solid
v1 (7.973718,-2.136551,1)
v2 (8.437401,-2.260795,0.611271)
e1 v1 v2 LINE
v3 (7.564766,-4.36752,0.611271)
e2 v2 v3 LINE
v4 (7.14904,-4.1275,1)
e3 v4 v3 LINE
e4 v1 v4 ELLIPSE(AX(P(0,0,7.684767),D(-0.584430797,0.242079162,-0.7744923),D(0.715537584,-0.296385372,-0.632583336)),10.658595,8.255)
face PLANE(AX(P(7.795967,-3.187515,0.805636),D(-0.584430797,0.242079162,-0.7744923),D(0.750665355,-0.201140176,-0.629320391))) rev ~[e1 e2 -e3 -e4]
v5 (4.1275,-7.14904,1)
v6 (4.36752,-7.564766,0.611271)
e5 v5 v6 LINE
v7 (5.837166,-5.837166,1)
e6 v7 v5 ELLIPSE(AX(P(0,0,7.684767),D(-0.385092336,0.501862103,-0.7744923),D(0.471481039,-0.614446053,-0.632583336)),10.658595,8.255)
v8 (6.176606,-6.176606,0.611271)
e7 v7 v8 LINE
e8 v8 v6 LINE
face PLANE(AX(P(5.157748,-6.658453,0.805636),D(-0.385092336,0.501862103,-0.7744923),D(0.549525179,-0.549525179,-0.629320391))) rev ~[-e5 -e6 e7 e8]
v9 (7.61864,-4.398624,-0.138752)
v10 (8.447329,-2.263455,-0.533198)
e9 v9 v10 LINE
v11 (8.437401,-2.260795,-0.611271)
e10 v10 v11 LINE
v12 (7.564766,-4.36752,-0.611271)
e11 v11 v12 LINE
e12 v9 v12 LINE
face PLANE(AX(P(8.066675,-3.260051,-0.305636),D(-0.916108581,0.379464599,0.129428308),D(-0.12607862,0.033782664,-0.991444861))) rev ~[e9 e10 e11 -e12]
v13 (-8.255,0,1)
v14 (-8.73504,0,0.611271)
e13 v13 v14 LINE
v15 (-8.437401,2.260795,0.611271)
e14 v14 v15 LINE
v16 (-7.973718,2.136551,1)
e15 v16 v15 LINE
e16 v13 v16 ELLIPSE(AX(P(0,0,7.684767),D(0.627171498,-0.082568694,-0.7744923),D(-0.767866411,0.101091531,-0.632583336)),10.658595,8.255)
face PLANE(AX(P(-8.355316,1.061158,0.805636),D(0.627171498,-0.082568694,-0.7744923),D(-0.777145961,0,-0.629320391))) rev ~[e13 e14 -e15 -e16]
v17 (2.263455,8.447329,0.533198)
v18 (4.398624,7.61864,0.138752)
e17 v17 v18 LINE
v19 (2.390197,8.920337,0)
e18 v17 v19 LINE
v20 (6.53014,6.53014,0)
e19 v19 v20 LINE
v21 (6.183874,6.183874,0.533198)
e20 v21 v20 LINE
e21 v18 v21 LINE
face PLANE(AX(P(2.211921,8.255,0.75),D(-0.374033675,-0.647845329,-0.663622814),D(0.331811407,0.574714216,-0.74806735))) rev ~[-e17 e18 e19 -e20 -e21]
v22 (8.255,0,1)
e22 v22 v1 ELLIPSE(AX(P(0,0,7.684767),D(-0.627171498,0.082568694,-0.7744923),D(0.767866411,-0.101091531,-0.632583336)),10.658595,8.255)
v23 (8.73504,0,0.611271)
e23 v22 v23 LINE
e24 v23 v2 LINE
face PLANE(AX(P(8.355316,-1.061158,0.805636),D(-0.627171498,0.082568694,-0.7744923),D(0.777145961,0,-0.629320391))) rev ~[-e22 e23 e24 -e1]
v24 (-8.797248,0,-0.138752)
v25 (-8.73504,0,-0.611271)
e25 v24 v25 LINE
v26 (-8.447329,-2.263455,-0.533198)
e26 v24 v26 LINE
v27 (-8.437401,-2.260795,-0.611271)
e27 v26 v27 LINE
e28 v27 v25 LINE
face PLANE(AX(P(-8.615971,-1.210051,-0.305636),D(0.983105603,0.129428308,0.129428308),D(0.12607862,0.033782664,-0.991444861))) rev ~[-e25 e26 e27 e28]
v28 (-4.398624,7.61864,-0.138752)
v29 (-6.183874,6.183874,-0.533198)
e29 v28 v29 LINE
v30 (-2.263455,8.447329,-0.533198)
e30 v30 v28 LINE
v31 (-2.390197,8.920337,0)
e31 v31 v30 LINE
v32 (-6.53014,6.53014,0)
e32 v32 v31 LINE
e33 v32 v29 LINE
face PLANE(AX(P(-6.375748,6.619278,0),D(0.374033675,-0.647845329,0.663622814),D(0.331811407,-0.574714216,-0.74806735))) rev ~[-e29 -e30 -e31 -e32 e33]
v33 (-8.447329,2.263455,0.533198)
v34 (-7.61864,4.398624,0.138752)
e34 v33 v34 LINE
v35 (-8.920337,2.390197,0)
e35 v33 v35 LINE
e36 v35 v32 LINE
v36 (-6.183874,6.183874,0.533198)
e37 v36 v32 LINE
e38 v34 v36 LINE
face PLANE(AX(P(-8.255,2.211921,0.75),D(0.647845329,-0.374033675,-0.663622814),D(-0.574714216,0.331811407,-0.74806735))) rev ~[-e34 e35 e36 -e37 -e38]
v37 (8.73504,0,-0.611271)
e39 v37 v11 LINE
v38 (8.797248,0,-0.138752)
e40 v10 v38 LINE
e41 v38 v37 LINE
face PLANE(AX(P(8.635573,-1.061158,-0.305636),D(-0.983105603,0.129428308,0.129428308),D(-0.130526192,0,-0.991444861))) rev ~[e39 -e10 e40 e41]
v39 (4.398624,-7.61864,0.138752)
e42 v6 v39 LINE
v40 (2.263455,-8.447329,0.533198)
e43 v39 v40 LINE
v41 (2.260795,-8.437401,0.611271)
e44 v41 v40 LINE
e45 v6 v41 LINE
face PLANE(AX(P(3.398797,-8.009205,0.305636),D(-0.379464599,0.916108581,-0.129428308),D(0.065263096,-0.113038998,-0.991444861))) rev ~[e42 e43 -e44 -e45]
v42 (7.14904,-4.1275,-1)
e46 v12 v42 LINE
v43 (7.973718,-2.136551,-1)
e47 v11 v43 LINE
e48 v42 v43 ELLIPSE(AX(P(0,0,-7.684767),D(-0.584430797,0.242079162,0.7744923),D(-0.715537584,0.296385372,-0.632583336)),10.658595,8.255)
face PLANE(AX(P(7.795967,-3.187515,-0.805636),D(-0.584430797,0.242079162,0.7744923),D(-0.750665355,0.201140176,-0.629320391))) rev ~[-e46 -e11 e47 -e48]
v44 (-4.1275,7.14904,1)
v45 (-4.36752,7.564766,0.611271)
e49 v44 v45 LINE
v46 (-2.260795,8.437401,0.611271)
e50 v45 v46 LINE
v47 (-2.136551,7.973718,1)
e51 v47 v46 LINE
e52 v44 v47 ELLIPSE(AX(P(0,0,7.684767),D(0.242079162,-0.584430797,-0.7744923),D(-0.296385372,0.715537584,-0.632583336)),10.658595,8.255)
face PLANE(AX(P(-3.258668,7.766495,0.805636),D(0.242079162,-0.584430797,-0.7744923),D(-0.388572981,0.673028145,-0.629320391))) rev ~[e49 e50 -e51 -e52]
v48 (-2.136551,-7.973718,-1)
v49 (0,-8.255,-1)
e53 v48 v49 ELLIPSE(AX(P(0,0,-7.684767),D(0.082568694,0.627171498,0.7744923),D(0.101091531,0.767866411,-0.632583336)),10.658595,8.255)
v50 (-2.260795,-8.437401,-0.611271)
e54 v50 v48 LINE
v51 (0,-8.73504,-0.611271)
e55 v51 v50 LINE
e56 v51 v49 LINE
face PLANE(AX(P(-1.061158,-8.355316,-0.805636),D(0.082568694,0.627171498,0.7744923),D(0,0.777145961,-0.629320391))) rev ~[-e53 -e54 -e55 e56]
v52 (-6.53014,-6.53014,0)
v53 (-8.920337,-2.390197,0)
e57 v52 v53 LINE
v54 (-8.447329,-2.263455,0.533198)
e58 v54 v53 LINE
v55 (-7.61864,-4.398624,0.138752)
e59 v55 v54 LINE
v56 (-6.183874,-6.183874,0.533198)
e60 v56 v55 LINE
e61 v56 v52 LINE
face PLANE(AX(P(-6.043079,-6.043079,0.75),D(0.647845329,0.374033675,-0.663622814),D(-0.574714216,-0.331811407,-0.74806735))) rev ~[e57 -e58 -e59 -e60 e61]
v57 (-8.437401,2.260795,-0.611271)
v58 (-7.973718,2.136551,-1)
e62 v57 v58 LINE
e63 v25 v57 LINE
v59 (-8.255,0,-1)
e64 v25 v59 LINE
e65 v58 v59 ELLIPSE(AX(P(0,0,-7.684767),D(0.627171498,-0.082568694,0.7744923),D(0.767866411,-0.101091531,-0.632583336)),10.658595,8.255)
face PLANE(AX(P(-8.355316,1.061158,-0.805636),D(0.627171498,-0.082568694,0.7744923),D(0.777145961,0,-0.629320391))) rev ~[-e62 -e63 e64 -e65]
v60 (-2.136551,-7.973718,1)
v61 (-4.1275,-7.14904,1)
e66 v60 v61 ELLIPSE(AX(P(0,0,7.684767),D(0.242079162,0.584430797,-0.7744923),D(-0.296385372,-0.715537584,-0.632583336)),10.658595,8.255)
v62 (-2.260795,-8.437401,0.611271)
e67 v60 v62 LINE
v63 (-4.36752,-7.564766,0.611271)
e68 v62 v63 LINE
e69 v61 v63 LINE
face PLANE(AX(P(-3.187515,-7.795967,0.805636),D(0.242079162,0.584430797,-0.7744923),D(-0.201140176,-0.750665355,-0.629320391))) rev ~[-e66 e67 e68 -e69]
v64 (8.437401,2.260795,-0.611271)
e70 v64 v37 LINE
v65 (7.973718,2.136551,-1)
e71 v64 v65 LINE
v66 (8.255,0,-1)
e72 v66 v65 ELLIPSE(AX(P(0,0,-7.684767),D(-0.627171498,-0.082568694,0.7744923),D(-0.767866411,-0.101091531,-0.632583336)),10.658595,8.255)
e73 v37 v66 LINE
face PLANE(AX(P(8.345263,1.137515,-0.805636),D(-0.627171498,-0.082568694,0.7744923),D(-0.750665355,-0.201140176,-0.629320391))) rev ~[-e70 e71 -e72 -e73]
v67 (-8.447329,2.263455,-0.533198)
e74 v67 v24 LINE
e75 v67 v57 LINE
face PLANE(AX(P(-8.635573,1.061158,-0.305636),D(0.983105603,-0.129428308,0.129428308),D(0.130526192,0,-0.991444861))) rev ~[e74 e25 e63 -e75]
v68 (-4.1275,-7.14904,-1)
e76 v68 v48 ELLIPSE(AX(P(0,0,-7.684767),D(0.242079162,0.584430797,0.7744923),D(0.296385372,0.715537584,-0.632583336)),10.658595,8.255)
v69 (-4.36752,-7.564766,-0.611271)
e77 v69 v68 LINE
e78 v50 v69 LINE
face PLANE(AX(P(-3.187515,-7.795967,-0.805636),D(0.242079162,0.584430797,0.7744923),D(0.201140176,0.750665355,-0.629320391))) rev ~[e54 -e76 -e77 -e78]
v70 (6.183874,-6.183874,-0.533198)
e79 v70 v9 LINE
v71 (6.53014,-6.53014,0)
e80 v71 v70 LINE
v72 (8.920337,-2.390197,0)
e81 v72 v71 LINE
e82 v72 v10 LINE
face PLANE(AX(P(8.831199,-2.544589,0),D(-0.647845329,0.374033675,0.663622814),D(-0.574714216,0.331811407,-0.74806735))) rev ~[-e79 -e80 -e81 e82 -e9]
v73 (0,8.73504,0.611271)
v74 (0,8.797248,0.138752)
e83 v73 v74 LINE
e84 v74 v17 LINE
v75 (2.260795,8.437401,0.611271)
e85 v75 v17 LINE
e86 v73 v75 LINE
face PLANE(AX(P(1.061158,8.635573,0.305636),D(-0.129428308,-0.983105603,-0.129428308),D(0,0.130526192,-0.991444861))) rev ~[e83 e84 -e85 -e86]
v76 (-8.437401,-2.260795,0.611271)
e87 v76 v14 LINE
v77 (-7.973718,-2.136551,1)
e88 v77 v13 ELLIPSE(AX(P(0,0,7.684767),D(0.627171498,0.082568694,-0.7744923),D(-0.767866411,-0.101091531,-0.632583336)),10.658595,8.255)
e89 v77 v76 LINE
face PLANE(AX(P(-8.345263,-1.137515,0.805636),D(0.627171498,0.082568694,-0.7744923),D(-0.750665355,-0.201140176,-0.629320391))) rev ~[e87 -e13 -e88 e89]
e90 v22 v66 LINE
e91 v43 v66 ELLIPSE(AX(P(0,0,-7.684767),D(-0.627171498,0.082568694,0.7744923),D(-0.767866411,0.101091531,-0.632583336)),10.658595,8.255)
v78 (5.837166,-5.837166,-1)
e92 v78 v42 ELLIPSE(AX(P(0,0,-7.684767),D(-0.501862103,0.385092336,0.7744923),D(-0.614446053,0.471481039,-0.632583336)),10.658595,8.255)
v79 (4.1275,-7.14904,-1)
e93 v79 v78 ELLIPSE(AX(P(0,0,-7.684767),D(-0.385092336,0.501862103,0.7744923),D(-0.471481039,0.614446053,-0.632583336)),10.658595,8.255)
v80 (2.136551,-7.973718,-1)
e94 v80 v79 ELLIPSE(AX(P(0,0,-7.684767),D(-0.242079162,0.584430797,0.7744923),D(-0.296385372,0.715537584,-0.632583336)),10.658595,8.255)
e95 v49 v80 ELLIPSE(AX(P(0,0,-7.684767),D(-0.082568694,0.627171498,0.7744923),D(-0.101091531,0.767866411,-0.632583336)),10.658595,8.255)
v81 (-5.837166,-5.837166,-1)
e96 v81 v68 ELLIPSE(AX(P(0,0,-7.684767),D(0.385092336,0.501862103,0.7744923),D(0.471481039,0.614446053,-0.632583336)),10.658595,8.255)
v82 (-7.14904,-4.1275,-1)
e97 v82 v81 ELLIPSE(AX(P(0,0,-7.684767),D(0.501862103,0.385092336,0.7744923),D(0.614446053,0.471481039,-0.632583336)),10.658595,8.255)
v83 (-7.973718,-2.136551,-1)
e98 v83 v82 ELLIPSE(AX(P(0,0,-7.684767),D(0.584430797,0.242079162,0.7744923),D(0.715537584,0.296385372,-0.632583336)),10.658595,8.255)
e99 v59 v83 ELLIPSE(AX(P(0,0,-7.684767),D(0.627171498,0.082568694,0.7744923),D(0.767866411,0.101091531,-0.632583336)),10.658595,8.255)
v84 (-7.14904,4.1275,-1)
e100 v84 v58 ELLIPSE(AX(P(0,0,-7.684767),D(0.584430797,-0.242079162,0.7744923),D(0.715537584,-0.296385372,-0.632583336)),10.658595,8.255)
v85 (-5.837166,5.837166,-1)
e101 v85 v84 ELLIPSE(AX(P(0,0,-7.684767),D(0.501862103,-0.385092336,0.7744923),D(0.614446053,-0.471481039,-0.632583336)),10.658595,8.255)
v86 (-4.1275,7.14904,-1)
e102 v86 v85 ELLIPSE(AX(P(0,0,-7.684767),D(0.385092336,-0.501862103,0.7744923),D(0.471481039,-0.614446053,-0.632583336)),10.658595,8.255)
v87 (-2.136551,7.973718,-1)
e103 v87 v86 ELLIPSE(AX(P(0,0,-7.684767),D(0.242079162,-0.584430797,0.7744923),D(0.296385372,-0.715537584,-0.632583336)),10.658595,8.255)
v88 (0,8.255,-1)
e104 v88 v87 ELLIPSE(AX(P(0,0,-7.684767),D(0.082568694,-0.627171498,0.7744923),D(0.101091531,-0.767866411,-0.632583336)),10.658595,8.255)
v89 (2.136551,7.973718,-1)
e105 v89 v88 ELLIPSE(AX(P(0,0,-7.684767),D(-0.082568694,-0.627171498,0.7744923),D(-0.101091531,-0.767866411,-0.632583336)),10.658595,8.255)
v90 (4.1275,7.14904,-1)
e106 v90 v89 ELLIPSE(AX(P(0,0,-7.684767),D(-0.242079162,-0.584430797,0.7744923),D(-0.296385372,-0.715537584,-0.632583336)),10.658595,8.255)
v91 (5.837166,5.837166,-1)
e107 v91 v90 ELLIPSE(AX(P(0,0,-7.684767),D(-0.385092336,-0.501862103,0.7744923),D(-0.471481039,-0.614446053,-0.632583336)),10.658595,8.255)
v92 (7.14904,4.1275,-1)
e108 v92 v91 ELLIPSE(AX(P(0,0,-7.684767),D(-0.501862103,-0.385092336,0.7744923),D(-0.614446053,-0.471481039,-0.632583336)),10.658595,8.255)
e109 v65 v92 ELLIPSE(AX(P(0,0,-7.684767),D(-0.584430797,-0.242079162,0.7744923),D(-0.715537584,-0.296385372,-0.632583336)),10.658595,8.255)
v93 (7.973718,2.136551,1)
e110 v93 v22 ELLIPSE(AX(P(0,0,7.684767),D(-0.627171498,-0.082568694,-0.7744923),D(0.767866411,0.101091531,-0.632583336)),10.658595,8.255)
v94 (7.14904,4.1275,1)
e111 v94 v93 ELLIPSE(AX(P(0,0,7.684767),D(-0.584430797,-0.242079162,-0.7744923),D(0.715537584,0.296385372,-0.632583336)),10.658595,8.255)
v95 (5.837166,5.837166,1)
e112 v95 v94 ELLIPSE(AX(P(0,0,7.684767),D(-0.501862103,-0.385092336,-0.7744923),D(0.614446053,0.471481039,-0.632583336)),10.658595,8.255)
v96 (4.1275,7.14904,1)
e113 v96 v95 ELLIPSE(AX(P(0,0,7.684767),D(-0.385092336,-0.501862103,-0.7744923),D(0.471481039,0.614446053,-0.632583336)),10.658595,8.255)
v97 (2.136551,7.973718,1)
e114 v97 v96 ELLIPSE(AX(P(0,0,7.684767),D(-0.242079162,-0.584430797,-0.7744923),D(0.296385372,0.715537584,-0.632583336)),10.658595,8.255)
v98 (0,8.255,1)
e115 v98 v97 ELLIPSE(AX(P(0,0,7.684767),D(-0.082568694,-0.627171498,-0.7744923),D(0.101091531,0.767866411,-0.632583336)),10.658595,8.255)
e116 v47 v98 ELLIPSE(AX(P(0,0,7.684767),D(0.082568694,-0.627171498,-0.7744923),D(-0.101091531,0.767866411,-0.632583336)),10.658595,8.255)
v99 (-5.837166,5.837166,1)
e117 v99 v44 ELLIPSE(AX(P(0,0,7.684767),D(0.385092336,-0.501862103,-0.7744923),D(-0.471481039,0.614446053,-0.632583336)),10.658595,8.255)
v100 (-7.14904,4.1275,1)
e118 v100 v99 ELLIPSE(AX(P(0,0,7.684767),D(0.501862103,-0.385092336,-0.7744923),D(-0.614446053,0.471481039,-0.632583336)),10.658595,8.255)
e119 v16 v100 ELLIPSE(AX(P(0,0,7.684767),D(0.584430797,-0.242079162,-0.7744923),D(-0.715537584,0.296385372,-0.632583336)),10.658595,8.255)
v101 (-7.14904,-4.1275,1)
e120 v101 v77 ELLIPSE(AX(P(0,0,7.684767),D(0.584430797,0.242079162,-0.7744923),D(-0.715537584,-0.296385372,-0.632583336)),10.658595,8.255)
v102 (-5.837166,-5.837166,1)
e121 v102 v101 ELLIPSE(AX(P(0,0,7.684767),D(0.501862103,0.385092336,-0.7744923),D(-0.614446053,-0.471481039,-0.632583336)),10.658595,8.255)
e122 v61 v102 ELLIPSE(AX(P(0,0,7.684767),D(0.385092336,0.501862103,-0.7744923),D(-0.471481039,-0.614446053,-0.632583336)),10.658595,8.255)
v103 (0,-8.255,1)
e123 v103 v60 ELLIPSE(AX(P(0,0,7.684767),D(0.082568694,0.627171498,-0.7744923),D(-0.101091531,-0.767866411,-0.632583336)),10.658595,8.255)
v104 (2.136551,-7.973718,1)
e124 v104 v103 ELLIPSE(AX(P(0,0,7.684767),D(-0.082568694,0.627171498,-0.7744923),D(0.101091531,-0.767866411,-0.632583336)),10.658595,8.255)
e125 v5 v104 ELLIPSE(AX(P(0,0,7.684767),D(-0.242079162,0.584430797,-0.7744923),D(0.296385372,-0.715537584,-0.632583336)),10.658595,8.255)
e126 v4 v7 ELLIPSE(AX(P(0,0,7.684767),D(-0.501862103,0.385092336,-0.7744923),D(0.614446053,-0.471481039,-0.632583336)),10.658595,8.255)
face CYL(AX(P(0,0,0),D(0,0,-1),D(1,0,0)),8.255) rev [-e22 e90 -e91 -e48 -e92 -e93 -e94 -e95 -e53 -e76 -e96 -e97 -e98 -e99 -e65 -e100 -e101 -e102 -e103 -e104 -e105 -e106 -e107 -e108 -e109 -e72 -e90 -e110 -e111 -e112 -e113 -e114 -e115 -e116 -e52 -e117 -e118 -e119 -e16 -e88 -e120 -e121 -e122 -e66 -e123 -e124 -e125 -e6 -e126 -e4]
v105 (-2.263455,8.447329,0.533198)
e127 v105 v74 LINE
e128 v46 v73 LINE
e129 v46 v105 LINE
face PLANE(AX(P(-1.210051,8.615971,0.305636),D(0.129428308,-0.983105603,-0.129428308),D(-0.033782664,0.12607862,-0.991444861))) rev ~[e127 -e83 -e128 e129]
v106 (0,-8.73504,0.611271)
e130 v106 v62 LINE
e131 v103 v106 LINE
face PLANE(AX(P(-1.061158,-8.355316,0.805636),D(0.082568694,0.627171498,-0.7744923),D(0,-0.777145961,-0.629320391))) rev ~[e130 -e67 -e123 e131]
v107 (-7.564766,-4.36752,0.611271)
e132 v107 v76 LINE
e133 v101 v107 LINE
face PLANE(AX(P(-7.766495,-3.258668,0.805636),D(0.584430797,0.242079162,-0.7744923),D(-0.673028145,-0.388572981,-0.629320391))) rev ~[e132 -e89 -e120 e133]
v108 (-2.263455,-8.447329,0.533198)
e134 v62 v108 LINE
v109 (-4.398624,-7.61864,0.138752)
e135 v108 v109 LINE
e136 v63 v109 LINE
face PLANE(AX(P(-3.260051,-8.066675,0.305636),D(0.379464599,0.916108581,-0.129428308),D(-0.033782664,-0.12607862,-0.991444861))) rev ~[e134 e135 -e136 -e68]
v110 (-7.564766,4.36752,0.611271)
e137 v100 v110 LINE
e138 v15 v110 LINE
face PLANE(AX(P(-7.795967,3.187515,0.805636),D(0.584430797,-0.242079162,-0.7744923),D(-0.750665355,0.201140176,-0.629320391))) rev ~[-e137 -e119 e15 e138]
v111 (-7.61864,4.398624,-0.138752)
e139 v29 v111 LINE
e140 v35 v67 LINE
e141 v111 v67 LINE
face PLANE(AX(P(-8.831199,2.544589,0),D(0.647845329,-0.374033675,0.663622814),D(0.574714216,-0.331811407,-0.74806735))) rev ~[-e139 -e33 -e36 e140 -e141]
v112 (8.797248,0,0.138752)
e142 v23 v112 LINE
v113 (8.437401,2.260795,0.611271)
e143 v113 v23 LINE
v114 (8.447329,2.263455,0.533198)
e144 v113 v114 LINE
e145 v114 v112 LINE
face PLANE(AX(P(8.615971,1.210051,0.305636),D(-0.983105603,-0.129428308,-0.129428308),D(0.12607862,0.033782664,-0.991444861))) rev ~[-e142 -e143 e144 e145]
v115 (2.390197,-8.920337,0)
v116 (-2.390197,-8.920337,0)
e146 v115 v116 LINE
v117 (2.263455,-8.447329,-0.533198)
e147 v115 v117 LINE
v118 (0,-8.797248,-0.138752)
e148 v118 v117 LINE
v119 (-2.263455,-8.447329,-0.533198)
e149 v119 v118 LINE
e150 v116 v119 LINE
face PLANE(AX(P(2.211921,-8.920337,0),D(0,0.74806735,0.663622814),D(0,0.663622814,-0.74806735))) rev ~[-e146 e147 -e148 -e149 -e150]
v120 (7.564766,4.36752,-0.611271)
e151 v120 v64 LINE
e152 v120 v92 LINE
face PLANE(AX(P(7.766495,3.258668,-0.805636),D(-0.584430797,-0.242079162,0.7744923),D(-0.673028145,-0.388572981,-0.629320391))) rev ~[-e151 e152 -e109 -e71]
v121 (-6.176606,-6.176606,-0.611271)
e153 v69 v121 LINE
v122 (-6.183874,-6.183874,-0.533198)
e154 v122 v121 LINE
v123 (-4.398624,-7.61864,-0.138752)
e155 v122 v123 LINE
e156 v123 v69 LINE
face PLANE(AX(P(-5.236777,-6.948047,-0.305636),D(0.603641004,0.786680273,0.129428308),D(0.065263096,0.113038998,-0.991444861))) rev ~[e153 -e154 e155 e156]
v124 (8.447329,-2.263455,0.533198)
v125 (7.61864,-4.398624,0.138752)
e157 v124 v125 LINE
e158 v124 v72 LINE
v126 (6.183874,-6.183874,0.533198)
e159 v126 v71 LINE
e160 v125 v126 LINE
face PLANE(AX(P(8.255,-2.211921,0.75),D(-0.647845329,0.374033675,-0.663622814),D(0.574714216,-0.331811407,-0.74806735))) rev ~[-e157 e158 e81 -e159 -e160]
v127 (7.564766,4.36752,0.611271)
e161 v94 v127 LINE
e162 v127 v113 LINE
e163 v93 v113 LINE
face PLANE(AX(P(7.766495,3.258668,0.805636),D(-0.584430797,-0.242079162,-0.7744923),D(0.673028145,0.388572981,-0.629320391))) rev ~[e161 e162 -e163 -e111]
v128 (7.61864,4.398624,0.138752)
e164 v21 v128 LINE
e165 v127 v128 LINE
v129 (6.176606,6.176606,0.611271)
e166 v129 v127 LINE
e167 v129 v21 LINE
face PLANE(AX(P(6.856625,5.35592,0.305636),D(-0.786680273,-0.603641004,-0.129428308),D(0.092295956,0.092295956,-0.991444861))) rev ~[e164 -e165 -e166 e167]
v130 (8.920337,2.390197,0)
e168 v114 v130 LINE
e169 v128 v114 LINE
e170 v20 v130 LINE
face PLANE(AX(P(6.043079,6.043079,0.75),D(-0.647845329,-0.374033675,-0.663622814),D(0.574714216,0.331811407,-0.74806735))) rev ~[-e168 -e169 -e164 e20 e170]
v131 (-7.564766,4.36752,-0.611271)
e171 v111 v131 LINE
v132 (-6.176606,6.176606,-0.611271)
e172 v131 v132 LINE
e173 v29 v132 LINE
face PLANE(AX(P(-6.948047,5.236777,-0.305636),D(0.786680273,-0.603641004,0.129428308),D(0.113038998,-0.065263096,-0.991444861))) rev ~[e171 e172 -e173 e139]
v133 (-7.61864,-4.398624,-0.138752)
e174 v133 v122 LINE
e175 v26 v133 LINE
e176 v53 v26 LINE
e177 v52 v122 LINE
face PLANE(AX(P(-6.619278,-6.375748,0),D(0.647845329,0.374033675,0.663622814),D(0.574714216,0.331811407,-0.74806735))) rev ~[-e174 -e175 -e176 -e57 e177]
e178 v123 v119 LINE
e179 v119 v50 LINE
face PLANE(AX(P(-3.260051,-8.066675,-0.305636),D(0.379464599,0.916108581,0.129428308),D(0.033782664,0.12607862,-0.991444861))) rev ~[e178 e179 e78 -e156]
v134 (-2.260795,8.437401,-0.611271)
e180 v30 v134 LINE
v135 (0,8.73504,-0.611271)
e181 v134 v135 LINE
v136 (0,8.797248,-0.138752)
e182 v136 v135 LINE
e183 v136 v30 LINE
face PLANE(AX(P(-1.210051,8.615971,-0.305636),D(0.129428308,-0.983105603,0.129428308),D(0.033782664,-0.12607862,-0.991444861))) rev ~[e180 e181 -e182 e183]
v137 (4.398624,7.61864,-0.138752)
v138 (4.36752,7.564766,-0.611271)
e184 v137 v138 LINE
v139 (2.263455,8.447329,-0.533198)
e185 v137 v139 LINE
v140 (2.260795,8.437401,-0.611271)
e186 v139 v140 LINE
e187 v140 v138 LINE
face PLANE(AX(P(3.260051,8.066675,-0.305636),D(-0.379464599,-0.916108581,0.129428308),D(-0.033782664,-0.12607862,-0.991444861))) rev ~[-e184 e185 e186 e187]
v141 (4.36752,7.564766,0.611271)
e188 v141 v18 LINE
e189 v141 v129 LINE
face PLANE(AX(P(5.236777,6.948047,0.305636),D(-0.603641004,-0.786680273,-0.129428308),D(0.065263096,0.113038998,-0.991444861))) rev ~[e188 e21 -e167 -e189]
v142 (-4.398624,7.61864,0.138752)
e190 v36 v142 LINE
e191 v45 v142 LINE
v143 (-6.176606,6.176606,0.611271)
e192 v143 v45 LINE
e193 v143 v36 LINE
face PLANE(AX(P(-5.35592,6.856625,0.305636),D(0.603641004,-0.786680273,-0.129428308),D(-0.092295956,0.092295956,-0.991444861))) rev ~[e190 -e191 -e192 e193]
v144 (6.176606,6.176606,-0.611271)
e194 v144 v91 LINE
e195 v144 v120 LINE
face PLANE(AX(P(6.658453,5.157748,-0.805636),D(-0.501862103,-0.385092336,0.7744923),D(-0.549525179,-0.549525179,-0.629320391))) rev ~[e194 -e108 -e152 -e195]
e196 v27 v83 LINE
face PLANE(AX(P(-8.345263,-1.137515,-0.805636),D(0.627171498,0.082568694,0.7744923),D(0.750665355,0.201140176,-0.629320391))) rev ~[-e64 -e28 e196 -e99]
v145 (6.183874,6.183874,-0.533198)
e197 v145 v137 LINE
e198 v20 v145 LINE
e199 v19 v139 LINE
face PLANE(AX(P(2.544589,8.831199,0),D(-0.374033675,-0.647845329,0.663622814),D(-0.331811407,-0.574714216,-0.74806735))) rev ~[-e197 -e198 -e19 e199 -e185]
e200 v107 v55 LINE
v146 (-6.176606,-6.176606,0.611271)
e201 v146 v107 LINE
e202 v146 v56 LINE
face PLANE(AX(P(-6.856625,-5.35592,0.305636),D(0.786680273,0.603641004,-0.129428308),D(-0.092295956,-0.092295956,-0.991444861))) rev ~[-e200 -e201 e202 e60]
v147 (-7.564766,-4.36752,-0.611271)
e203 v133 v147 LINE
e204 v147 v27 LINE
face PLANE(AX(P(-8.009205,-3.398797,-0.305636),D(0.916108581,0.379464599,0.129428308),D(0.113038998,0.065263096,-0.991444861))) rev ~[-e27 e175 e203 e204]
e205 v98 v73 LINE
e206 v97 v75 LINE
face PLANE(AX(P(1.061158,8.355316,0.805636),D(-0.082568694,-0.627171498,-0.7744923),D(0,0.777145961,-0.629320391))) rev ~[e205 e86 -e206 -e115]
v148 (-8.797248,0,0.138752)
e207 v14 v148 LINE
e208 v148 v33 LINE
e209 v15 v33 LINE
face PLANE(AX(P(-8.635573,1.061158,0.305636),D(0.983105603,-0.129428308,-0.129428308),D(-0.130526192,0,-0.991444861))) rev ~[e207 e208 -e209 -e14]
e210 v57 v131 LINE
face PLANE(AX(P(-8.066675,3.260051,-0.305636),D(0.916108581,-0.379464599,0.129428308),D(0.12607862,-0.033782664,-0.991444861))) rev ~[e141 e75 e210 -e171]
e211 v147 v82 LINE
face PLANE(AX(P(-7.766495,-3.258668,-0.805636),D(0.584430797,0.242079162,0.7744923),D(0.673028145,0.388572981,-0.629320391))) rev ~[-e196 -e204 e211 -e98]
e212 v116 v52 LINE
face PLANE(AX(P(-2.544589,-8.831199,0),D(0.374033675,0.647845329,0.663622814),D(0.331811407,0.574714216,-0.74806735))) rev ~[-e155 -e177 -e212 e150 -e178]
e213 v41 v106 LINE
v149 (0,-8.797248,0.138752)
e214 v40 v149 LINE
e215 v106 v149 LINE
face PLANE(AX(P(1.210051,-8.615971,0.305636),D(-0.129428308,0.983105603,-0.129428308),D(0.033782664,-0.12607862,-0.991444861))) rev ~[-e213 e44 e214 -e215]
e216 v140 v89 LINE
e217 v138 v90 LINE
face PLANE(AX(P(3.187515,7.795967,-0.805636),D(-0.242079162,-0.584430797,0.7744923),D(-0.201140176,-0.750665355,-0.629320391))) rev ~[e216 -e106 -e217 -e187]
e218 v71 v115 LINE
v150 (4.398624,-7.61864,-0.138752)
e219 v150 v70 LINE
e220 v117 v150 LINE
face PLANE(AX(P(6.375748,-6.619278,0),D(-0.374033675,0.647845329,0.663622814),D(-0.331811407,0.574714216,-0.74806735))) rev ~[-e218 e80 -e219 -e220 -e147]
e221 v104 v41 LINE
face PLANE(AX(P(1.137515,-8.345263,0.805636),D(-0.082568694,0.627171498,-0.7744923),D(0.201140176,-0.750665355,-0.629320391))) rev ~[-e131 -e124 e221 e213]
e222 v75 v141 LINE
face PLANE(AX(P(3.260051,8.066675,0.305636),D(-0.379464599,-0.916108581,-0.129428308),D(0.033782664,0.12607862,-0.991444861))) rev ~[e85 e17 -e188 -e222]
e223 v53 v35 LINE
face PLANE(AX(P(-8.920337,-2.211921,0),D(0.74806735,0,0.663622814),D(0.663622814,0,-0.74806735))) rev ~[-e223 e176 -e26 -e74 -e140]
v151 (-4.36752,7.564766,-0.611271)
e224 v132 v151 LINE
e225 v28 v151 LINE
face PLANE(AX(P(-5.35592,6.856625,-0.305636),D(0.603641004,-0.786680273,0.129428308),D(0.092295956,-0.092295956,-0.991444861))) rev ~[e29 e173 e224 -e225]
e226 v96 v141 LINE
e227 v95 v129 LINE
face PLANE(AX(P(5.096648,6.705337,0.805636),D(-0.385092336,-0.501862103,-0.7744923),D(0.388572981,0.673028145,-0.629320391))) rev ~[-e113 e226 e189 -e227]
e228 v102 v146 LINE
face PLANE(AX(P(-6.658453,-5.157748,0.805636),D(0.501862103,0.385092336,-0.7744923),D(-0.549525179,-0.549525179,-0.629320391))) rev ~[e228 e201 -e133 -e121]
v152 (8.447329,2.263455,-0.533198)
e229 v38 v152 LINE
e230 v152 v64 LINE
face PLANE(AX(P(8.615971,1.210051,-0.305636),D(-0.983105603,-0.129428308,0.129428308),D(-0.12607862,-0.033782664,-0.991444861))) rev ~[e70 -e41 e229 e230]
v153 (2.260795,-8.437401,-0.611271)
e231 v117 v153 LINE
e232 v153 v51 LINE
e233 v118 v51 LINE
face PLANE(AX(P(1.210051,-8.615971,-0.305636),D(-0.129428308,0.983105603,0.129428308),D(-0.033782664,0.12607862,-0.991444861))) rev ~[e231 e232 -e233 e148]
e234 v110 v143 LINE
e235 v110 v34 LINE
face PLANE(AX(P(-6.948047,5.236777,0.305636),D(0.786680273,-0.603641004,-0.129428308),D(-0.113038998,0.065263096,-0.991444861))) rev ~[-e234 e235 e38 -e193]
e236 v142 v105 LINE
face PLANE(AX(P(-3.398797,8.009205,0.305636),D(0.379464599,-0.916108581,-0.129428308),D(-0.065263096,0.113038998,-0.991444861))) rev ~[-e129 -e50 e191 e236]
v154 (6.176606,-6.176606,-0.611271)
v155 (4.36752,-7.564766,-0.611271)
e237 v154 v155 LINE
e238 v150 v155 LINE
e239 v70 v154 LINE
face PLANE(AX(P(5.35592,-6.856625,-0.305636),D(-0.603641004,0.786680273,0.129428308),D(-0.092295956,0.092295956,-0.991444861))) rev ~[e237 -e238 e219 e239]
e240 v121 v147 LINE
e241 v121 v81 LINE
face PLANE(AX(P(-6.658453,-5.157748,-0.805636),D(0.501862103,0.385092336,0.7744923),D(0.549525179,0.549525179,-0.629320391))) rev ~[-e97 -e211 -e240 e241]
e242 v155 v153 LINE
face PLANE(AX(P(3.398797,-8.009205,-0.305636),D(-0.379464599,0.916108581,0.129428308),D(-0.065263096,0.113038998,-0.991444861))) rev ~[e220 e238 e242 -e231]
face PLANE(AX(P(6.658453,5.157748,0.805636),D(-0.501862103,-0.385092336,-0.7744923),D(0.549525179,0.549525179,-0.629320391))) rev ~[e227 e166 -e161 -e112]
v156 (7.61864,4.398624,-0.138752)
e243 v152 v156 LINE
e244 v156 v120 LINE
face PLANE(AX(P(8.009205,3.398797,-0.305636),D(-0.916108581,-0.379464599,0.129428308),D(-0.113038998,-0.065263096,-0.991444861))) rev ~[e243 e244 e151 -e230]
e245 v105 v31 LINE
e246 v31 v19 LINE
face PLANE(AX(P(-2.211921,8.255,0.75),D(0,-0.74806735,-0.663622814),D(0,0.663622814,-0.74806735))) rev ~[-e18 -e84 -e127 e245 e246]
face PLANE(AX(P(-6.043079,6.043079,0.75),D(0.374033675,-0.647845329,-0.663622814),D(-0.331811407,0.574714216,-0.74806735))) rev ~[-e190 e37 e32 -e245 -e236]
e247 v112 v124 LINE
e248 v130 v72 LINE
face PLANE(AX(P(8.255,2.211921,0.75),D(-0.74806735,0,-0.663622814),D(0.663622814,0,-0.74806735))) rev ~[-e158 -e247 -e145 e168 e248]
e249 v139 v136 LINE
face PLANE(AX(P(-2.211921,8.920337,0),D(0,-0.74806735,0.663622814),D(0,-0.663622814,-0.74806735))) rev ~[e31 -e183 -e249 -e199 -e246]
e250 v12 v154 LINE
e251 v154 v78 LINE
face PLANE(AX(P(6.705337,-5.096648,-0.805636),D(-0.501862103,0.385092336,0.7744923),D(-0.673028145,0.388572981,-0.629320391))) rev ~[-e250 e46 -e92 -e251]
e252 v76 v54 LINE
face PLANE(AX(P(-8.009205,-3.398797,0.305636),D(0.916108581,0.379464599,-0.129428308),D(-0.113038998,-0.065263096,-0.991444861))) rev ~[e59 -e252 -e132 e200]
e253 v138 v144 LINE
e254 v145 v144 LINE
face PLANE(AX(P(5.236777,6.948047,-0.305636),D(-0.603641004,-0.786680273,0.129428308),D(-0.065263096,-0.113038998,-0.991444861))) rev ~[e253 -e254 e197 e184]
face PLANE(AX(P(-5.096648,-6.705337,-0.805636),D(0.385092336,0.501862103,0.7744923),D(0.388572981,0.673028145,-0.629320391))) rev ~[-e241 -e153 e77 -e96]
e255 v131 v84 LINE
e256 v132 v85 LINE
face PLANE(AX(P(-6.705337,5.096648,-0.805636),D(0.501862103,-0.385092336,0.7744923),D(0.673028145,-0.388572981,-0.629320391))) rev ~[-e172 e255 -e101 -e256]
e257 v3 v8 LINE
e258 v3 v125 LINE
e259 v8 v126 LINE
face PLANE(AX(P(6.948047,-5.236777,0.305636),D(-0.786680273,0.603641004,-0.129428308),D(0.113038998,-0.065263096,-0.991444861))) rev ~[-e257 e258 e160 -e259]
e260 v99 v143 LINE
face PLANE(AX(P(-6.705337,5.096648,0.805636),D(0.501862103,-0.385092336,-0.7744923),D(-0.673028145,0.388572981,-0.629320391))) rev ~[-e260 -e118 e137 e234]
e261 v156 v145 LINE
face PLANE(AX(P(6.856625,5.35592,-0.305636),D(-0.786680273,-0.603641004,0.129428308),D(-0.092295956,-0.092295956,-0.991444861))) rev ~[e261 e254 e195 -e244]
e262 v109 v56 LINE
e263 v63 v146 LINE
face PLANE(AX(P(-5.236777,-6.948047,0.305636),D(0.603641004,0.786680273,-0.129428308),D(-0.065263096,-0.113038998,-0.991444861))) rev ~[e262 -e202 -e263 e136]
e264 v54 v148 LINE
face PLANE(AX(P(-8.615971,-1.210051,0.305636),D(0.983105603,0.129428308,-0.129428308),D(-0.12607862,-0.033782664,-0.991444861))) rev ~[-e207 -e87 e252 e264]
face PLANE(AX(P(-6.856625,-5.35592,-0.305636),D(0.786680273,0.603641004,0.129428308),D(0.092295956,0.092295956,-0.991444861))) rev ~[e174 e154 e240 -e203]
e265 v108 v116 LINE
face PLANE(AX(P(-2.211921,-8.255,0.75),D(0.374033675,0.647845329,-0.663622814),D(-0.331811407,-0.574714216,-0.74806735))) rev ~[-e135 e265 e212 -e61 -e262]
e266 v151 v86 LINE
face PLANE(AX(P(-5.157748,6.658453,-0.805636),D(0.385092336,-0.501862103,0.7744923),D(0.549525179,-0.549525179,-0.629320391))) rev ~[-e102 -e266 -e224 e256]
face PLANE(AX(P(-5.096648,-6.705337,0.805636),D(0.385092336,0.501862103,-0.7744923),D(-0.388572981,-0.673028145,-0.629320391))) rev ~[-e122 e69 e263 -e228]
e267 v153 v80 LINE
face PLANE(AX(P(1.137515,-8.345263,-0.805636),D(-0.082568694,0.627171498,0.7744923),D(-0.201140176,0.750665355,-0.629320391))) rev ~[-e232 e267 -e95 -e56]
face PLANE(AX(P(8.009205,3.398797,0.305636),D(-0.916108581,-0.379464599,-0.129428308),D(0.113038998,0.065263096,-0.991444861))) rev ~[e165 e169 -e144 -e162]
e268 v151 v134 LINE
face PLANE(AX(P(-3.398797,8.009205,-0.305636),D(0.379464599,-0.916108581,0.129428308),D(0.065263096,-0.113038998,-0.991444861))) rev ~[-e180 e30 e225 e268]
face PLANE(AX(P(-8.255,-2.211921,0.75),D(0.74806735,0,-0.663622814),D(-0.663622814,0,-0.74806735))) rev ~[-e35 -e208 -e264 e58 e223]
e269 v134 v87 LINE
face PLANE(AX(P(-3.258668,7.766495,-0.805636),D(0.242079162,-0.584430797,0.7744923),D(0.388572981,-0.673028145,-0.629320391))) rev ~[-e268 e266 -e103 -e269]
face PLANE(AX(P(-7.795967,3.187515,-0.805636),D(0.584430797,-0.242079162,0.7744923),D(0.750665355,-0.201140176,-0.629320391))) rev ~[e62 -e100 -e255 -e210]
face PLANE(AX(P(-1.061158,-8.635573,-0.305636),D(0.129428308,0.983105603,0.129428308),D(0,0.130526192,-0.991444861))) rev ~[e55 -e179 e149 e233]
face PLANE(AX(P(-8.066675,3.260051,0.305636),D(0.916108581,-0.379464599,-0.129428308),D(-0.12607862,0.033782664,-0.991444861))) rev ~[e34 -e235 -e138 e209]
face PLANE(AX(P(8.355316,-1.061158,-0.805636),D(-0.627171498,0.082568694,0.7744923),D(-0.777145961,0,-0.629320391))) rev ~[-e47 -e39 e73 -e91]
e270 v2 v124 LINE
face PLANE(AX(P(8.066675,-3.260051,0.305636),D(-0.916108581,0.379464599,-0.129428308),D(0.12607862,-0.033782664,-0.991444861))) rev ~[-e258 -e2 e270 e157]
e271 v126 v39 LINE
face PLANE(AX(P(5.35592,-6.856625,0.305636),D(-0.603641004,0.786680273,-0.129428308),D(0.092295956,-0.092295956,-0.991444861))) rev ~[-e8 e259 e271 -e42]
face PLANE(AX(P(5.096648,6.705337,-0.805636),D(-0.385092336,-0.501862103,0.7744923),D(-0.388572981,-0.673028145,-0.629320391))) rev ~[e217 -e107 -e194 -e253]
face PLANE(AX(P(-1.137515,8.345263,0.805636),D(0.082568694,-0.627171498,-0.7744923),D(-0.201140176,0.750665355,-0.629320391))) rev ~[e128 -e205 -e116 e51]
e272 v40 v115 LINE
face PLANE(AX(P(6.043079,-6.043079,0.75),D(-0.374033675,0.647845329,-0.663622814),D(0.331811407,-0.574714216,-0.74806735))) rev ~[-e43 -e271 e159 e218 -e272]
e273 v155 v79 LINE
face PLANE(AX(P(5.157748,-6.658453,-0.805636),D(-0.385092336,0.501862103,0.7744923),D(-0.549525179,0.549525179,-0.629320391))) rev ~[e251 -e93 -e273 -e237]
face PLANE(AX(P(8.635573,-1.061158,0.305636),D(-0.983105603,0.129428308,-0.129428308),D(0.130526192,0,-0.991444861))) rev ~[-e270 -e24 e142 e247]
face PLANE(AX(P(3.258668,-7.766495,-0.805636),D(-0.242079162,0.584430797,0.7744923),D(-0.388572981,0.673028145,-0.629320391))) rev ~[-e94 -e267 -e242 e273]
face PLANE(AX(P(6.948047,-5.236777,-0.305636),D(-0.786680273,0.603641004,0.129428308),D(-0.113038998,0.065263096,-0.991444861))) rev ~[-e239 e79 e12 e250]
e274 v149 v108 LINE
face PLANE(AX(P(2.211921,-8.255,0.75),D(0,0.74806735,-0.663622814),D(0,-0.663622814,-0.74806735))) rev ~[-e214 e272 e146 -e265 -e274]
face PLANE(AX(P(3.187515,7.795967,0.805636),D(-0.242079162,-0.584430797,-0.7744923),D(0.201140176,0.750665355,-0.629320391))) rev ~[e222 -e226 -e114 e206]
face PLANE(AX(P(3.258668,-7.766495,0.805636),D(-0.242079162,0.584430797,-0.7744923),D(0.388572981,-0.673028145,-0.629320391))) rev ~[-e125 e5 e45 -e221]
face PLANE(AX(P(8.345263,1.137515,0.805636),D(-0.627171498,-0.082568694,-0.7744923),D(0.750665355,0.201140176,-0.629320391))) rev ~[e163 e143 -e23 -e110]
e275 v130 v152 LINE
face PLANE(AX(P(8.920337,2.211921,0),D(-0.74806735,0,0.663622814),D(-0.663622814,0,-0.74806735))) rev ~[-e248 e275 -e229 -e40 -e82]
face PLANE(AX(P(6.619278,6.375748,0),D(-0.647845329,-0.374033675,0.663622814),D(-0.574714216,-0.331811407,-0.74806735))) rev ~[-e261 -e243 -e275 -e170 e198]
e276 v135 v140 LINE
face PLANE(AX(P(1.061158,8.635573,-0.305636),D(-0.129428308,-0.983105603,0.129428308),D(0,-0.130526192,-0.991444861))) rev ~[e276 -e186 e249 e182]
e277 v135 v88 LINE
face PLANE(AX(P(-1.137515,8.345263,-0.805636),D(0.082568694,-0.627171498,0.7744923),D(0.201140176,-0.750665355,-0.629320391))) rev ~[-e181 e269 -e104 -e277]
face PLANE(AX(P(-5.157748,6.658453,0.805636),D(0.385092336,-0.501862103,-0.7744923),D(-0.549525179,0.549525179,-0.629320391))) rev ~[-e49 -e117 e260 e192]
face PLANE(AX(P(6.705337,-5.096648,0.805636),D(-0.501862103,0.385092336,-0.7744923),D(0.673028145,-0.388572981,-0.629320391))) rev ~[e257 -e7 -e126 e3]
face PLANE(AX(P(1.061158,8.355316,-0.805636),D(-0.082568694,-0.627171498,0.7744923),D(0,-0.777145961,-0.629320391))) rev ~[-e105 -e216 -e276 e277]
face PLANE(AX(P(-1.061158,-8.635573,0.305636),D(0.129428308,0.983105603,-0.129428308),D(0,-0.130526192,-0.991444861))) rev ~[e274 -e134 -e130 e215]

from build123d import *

# Parameters (mm, degrees)
F5_W = 0.5
F5_H = 2


with BuildPart() as f3:
    # F3: sweep along a path in F2
    with BuildLine(Plane.XY) as f3_path:
        Line((-8.2, 0), (-7.9205917756, 2.1223161698))
        Line((-7.9205917756, 2.1223161698), (-7.101408311, 4.1))
        Line((-7.101408311, 4.1), (-5.7982756057, 5.7982756057))
        Line((-5.7982756057, 5.7982756057), (-4.1, 7.101408311))
        Line((-4.1, 7.101408311), (-2.1223161698, 7.9205917756))
        Line((-2.1223161698, 7.9205917756), (0, 8.2))
        Line((0, 8.2), (2.1223161698, 7.9205917756))
        Line((2.1223161698, 7.9205917756), (4.1, 7.101408311))
        Line((4.1, 7.101408311), (5.7982756057, 5.7982756057))
        Line((5.7982756057, 5.7982756057), (7.101408311, 4.1))
        Line((7.101408311, 4.1), (7.9205917756, 2.1223161698))
        Line((7.9205917756, 2.1223161698), (8.2, 0))
        Line((8.2, 0), (7.9205917756, -2.1223161698))
        Line((7.9205917756, -2.1223161698), (7.101408311, -4.1))
        Line((7.101408311, -4.1), (5.7982756057, -5.7982756057))
        Line((5.7982756057, -5.7982756057), (4.1, -7.101408311))
        Line((4.1, -7.101408311), (2.1223161698, -7.9205917756))
        Line((2.1223161698, -7.9205917756), (0, -8.2))
        Line((0, -8.2), (-2.1223161698, -7.9205917756))
        Line((-2.1223161698, -7.9205917756), (-4.1, -7.101408311))
        Line((-4.1, -7.101408311), (-5.7982756057, -5.7982756057))
        Line((-5.7982756057, -5.7982756057), (-7.101408311, -4.1))
        Line((-7.101408311, -4.1), (-7.9205917756, -2.1223161698))
        Line((-7.9205917756, -2.1223161698), (-8.2, 0))
    # F1 (on Front) → F3 (sweep)
    with BuildSketch(Plane.XZ):
        Polygon((-8.255, -1), (-8.255, 1), (-8.735039811, 0.6112714258), (-8.8155152209, 0), (-8.735039811, -0.6112714258), align=None)
    sweep(path=f3_path.line, transition=Transition.RIGHT)

    # F6: sweep along a path in F0
    with BuildLine(Plane.XY) as f6_path:
        CenterArc((0, 0), 8.255, 0, 360)
    # F5 (on Front) → F6 (sweep, cut)
    with BuildSketch(Plane.XZ):
        with Locations((-8.005, 0)):
            Rectangle(F5_W, F5_H)
    sweep(path=f6_path.line, mode=Mode.SUBTRACT)

    # F9: sweep along a path in F7
    with BuildLine(Plane.XY) as f9_path:
        Line((-8.255, -2.2119205835), (-8.255, 2.2119205835))
        Line((-8.255, 2.2119205835), (-6.0430794165, 6.0430794165))
        Line((-6.0430794165, 6.0430794165), (-2.2119205835, 8.255))
        Line((-2.2119205835, 8.255), (2.2119205835, 8.255))
        Line((2.2119205835, 8.255), (6.0430794165, 6.0430794165))
        Line((6.0430794165, 6.0430794165), (8.255, 2.2119205835))
        Line((8.255, 2.2119205835), (8.255, -2.2119205835))
        Line((8.255, -2.2119205835), (6.0430794165, -6.0430794165))
        Line((6.0430794165, -6.0430794165), (2.2119205835, -8.255))
        Line((2.2119205835, -8.255), (-2.2119205835, -8.255))
        Line((-2.2119205835, -8.255), (-6.0430794165, -6.0430794165))
        Line((-6.0430794165, -6.0430794165), (-8.255, -2.2119205835))
    # F8 (on Front) → F9 (sweep)
    with BuildSketch(Plane.XZ):
        Polygon((-8.255, -0.75), (-8.255, 0.75), (-8.9203372997, 0), align=None)
    sweep(path=f9_path.line, transition=Transition.RIGHT)


solid = f3.part
